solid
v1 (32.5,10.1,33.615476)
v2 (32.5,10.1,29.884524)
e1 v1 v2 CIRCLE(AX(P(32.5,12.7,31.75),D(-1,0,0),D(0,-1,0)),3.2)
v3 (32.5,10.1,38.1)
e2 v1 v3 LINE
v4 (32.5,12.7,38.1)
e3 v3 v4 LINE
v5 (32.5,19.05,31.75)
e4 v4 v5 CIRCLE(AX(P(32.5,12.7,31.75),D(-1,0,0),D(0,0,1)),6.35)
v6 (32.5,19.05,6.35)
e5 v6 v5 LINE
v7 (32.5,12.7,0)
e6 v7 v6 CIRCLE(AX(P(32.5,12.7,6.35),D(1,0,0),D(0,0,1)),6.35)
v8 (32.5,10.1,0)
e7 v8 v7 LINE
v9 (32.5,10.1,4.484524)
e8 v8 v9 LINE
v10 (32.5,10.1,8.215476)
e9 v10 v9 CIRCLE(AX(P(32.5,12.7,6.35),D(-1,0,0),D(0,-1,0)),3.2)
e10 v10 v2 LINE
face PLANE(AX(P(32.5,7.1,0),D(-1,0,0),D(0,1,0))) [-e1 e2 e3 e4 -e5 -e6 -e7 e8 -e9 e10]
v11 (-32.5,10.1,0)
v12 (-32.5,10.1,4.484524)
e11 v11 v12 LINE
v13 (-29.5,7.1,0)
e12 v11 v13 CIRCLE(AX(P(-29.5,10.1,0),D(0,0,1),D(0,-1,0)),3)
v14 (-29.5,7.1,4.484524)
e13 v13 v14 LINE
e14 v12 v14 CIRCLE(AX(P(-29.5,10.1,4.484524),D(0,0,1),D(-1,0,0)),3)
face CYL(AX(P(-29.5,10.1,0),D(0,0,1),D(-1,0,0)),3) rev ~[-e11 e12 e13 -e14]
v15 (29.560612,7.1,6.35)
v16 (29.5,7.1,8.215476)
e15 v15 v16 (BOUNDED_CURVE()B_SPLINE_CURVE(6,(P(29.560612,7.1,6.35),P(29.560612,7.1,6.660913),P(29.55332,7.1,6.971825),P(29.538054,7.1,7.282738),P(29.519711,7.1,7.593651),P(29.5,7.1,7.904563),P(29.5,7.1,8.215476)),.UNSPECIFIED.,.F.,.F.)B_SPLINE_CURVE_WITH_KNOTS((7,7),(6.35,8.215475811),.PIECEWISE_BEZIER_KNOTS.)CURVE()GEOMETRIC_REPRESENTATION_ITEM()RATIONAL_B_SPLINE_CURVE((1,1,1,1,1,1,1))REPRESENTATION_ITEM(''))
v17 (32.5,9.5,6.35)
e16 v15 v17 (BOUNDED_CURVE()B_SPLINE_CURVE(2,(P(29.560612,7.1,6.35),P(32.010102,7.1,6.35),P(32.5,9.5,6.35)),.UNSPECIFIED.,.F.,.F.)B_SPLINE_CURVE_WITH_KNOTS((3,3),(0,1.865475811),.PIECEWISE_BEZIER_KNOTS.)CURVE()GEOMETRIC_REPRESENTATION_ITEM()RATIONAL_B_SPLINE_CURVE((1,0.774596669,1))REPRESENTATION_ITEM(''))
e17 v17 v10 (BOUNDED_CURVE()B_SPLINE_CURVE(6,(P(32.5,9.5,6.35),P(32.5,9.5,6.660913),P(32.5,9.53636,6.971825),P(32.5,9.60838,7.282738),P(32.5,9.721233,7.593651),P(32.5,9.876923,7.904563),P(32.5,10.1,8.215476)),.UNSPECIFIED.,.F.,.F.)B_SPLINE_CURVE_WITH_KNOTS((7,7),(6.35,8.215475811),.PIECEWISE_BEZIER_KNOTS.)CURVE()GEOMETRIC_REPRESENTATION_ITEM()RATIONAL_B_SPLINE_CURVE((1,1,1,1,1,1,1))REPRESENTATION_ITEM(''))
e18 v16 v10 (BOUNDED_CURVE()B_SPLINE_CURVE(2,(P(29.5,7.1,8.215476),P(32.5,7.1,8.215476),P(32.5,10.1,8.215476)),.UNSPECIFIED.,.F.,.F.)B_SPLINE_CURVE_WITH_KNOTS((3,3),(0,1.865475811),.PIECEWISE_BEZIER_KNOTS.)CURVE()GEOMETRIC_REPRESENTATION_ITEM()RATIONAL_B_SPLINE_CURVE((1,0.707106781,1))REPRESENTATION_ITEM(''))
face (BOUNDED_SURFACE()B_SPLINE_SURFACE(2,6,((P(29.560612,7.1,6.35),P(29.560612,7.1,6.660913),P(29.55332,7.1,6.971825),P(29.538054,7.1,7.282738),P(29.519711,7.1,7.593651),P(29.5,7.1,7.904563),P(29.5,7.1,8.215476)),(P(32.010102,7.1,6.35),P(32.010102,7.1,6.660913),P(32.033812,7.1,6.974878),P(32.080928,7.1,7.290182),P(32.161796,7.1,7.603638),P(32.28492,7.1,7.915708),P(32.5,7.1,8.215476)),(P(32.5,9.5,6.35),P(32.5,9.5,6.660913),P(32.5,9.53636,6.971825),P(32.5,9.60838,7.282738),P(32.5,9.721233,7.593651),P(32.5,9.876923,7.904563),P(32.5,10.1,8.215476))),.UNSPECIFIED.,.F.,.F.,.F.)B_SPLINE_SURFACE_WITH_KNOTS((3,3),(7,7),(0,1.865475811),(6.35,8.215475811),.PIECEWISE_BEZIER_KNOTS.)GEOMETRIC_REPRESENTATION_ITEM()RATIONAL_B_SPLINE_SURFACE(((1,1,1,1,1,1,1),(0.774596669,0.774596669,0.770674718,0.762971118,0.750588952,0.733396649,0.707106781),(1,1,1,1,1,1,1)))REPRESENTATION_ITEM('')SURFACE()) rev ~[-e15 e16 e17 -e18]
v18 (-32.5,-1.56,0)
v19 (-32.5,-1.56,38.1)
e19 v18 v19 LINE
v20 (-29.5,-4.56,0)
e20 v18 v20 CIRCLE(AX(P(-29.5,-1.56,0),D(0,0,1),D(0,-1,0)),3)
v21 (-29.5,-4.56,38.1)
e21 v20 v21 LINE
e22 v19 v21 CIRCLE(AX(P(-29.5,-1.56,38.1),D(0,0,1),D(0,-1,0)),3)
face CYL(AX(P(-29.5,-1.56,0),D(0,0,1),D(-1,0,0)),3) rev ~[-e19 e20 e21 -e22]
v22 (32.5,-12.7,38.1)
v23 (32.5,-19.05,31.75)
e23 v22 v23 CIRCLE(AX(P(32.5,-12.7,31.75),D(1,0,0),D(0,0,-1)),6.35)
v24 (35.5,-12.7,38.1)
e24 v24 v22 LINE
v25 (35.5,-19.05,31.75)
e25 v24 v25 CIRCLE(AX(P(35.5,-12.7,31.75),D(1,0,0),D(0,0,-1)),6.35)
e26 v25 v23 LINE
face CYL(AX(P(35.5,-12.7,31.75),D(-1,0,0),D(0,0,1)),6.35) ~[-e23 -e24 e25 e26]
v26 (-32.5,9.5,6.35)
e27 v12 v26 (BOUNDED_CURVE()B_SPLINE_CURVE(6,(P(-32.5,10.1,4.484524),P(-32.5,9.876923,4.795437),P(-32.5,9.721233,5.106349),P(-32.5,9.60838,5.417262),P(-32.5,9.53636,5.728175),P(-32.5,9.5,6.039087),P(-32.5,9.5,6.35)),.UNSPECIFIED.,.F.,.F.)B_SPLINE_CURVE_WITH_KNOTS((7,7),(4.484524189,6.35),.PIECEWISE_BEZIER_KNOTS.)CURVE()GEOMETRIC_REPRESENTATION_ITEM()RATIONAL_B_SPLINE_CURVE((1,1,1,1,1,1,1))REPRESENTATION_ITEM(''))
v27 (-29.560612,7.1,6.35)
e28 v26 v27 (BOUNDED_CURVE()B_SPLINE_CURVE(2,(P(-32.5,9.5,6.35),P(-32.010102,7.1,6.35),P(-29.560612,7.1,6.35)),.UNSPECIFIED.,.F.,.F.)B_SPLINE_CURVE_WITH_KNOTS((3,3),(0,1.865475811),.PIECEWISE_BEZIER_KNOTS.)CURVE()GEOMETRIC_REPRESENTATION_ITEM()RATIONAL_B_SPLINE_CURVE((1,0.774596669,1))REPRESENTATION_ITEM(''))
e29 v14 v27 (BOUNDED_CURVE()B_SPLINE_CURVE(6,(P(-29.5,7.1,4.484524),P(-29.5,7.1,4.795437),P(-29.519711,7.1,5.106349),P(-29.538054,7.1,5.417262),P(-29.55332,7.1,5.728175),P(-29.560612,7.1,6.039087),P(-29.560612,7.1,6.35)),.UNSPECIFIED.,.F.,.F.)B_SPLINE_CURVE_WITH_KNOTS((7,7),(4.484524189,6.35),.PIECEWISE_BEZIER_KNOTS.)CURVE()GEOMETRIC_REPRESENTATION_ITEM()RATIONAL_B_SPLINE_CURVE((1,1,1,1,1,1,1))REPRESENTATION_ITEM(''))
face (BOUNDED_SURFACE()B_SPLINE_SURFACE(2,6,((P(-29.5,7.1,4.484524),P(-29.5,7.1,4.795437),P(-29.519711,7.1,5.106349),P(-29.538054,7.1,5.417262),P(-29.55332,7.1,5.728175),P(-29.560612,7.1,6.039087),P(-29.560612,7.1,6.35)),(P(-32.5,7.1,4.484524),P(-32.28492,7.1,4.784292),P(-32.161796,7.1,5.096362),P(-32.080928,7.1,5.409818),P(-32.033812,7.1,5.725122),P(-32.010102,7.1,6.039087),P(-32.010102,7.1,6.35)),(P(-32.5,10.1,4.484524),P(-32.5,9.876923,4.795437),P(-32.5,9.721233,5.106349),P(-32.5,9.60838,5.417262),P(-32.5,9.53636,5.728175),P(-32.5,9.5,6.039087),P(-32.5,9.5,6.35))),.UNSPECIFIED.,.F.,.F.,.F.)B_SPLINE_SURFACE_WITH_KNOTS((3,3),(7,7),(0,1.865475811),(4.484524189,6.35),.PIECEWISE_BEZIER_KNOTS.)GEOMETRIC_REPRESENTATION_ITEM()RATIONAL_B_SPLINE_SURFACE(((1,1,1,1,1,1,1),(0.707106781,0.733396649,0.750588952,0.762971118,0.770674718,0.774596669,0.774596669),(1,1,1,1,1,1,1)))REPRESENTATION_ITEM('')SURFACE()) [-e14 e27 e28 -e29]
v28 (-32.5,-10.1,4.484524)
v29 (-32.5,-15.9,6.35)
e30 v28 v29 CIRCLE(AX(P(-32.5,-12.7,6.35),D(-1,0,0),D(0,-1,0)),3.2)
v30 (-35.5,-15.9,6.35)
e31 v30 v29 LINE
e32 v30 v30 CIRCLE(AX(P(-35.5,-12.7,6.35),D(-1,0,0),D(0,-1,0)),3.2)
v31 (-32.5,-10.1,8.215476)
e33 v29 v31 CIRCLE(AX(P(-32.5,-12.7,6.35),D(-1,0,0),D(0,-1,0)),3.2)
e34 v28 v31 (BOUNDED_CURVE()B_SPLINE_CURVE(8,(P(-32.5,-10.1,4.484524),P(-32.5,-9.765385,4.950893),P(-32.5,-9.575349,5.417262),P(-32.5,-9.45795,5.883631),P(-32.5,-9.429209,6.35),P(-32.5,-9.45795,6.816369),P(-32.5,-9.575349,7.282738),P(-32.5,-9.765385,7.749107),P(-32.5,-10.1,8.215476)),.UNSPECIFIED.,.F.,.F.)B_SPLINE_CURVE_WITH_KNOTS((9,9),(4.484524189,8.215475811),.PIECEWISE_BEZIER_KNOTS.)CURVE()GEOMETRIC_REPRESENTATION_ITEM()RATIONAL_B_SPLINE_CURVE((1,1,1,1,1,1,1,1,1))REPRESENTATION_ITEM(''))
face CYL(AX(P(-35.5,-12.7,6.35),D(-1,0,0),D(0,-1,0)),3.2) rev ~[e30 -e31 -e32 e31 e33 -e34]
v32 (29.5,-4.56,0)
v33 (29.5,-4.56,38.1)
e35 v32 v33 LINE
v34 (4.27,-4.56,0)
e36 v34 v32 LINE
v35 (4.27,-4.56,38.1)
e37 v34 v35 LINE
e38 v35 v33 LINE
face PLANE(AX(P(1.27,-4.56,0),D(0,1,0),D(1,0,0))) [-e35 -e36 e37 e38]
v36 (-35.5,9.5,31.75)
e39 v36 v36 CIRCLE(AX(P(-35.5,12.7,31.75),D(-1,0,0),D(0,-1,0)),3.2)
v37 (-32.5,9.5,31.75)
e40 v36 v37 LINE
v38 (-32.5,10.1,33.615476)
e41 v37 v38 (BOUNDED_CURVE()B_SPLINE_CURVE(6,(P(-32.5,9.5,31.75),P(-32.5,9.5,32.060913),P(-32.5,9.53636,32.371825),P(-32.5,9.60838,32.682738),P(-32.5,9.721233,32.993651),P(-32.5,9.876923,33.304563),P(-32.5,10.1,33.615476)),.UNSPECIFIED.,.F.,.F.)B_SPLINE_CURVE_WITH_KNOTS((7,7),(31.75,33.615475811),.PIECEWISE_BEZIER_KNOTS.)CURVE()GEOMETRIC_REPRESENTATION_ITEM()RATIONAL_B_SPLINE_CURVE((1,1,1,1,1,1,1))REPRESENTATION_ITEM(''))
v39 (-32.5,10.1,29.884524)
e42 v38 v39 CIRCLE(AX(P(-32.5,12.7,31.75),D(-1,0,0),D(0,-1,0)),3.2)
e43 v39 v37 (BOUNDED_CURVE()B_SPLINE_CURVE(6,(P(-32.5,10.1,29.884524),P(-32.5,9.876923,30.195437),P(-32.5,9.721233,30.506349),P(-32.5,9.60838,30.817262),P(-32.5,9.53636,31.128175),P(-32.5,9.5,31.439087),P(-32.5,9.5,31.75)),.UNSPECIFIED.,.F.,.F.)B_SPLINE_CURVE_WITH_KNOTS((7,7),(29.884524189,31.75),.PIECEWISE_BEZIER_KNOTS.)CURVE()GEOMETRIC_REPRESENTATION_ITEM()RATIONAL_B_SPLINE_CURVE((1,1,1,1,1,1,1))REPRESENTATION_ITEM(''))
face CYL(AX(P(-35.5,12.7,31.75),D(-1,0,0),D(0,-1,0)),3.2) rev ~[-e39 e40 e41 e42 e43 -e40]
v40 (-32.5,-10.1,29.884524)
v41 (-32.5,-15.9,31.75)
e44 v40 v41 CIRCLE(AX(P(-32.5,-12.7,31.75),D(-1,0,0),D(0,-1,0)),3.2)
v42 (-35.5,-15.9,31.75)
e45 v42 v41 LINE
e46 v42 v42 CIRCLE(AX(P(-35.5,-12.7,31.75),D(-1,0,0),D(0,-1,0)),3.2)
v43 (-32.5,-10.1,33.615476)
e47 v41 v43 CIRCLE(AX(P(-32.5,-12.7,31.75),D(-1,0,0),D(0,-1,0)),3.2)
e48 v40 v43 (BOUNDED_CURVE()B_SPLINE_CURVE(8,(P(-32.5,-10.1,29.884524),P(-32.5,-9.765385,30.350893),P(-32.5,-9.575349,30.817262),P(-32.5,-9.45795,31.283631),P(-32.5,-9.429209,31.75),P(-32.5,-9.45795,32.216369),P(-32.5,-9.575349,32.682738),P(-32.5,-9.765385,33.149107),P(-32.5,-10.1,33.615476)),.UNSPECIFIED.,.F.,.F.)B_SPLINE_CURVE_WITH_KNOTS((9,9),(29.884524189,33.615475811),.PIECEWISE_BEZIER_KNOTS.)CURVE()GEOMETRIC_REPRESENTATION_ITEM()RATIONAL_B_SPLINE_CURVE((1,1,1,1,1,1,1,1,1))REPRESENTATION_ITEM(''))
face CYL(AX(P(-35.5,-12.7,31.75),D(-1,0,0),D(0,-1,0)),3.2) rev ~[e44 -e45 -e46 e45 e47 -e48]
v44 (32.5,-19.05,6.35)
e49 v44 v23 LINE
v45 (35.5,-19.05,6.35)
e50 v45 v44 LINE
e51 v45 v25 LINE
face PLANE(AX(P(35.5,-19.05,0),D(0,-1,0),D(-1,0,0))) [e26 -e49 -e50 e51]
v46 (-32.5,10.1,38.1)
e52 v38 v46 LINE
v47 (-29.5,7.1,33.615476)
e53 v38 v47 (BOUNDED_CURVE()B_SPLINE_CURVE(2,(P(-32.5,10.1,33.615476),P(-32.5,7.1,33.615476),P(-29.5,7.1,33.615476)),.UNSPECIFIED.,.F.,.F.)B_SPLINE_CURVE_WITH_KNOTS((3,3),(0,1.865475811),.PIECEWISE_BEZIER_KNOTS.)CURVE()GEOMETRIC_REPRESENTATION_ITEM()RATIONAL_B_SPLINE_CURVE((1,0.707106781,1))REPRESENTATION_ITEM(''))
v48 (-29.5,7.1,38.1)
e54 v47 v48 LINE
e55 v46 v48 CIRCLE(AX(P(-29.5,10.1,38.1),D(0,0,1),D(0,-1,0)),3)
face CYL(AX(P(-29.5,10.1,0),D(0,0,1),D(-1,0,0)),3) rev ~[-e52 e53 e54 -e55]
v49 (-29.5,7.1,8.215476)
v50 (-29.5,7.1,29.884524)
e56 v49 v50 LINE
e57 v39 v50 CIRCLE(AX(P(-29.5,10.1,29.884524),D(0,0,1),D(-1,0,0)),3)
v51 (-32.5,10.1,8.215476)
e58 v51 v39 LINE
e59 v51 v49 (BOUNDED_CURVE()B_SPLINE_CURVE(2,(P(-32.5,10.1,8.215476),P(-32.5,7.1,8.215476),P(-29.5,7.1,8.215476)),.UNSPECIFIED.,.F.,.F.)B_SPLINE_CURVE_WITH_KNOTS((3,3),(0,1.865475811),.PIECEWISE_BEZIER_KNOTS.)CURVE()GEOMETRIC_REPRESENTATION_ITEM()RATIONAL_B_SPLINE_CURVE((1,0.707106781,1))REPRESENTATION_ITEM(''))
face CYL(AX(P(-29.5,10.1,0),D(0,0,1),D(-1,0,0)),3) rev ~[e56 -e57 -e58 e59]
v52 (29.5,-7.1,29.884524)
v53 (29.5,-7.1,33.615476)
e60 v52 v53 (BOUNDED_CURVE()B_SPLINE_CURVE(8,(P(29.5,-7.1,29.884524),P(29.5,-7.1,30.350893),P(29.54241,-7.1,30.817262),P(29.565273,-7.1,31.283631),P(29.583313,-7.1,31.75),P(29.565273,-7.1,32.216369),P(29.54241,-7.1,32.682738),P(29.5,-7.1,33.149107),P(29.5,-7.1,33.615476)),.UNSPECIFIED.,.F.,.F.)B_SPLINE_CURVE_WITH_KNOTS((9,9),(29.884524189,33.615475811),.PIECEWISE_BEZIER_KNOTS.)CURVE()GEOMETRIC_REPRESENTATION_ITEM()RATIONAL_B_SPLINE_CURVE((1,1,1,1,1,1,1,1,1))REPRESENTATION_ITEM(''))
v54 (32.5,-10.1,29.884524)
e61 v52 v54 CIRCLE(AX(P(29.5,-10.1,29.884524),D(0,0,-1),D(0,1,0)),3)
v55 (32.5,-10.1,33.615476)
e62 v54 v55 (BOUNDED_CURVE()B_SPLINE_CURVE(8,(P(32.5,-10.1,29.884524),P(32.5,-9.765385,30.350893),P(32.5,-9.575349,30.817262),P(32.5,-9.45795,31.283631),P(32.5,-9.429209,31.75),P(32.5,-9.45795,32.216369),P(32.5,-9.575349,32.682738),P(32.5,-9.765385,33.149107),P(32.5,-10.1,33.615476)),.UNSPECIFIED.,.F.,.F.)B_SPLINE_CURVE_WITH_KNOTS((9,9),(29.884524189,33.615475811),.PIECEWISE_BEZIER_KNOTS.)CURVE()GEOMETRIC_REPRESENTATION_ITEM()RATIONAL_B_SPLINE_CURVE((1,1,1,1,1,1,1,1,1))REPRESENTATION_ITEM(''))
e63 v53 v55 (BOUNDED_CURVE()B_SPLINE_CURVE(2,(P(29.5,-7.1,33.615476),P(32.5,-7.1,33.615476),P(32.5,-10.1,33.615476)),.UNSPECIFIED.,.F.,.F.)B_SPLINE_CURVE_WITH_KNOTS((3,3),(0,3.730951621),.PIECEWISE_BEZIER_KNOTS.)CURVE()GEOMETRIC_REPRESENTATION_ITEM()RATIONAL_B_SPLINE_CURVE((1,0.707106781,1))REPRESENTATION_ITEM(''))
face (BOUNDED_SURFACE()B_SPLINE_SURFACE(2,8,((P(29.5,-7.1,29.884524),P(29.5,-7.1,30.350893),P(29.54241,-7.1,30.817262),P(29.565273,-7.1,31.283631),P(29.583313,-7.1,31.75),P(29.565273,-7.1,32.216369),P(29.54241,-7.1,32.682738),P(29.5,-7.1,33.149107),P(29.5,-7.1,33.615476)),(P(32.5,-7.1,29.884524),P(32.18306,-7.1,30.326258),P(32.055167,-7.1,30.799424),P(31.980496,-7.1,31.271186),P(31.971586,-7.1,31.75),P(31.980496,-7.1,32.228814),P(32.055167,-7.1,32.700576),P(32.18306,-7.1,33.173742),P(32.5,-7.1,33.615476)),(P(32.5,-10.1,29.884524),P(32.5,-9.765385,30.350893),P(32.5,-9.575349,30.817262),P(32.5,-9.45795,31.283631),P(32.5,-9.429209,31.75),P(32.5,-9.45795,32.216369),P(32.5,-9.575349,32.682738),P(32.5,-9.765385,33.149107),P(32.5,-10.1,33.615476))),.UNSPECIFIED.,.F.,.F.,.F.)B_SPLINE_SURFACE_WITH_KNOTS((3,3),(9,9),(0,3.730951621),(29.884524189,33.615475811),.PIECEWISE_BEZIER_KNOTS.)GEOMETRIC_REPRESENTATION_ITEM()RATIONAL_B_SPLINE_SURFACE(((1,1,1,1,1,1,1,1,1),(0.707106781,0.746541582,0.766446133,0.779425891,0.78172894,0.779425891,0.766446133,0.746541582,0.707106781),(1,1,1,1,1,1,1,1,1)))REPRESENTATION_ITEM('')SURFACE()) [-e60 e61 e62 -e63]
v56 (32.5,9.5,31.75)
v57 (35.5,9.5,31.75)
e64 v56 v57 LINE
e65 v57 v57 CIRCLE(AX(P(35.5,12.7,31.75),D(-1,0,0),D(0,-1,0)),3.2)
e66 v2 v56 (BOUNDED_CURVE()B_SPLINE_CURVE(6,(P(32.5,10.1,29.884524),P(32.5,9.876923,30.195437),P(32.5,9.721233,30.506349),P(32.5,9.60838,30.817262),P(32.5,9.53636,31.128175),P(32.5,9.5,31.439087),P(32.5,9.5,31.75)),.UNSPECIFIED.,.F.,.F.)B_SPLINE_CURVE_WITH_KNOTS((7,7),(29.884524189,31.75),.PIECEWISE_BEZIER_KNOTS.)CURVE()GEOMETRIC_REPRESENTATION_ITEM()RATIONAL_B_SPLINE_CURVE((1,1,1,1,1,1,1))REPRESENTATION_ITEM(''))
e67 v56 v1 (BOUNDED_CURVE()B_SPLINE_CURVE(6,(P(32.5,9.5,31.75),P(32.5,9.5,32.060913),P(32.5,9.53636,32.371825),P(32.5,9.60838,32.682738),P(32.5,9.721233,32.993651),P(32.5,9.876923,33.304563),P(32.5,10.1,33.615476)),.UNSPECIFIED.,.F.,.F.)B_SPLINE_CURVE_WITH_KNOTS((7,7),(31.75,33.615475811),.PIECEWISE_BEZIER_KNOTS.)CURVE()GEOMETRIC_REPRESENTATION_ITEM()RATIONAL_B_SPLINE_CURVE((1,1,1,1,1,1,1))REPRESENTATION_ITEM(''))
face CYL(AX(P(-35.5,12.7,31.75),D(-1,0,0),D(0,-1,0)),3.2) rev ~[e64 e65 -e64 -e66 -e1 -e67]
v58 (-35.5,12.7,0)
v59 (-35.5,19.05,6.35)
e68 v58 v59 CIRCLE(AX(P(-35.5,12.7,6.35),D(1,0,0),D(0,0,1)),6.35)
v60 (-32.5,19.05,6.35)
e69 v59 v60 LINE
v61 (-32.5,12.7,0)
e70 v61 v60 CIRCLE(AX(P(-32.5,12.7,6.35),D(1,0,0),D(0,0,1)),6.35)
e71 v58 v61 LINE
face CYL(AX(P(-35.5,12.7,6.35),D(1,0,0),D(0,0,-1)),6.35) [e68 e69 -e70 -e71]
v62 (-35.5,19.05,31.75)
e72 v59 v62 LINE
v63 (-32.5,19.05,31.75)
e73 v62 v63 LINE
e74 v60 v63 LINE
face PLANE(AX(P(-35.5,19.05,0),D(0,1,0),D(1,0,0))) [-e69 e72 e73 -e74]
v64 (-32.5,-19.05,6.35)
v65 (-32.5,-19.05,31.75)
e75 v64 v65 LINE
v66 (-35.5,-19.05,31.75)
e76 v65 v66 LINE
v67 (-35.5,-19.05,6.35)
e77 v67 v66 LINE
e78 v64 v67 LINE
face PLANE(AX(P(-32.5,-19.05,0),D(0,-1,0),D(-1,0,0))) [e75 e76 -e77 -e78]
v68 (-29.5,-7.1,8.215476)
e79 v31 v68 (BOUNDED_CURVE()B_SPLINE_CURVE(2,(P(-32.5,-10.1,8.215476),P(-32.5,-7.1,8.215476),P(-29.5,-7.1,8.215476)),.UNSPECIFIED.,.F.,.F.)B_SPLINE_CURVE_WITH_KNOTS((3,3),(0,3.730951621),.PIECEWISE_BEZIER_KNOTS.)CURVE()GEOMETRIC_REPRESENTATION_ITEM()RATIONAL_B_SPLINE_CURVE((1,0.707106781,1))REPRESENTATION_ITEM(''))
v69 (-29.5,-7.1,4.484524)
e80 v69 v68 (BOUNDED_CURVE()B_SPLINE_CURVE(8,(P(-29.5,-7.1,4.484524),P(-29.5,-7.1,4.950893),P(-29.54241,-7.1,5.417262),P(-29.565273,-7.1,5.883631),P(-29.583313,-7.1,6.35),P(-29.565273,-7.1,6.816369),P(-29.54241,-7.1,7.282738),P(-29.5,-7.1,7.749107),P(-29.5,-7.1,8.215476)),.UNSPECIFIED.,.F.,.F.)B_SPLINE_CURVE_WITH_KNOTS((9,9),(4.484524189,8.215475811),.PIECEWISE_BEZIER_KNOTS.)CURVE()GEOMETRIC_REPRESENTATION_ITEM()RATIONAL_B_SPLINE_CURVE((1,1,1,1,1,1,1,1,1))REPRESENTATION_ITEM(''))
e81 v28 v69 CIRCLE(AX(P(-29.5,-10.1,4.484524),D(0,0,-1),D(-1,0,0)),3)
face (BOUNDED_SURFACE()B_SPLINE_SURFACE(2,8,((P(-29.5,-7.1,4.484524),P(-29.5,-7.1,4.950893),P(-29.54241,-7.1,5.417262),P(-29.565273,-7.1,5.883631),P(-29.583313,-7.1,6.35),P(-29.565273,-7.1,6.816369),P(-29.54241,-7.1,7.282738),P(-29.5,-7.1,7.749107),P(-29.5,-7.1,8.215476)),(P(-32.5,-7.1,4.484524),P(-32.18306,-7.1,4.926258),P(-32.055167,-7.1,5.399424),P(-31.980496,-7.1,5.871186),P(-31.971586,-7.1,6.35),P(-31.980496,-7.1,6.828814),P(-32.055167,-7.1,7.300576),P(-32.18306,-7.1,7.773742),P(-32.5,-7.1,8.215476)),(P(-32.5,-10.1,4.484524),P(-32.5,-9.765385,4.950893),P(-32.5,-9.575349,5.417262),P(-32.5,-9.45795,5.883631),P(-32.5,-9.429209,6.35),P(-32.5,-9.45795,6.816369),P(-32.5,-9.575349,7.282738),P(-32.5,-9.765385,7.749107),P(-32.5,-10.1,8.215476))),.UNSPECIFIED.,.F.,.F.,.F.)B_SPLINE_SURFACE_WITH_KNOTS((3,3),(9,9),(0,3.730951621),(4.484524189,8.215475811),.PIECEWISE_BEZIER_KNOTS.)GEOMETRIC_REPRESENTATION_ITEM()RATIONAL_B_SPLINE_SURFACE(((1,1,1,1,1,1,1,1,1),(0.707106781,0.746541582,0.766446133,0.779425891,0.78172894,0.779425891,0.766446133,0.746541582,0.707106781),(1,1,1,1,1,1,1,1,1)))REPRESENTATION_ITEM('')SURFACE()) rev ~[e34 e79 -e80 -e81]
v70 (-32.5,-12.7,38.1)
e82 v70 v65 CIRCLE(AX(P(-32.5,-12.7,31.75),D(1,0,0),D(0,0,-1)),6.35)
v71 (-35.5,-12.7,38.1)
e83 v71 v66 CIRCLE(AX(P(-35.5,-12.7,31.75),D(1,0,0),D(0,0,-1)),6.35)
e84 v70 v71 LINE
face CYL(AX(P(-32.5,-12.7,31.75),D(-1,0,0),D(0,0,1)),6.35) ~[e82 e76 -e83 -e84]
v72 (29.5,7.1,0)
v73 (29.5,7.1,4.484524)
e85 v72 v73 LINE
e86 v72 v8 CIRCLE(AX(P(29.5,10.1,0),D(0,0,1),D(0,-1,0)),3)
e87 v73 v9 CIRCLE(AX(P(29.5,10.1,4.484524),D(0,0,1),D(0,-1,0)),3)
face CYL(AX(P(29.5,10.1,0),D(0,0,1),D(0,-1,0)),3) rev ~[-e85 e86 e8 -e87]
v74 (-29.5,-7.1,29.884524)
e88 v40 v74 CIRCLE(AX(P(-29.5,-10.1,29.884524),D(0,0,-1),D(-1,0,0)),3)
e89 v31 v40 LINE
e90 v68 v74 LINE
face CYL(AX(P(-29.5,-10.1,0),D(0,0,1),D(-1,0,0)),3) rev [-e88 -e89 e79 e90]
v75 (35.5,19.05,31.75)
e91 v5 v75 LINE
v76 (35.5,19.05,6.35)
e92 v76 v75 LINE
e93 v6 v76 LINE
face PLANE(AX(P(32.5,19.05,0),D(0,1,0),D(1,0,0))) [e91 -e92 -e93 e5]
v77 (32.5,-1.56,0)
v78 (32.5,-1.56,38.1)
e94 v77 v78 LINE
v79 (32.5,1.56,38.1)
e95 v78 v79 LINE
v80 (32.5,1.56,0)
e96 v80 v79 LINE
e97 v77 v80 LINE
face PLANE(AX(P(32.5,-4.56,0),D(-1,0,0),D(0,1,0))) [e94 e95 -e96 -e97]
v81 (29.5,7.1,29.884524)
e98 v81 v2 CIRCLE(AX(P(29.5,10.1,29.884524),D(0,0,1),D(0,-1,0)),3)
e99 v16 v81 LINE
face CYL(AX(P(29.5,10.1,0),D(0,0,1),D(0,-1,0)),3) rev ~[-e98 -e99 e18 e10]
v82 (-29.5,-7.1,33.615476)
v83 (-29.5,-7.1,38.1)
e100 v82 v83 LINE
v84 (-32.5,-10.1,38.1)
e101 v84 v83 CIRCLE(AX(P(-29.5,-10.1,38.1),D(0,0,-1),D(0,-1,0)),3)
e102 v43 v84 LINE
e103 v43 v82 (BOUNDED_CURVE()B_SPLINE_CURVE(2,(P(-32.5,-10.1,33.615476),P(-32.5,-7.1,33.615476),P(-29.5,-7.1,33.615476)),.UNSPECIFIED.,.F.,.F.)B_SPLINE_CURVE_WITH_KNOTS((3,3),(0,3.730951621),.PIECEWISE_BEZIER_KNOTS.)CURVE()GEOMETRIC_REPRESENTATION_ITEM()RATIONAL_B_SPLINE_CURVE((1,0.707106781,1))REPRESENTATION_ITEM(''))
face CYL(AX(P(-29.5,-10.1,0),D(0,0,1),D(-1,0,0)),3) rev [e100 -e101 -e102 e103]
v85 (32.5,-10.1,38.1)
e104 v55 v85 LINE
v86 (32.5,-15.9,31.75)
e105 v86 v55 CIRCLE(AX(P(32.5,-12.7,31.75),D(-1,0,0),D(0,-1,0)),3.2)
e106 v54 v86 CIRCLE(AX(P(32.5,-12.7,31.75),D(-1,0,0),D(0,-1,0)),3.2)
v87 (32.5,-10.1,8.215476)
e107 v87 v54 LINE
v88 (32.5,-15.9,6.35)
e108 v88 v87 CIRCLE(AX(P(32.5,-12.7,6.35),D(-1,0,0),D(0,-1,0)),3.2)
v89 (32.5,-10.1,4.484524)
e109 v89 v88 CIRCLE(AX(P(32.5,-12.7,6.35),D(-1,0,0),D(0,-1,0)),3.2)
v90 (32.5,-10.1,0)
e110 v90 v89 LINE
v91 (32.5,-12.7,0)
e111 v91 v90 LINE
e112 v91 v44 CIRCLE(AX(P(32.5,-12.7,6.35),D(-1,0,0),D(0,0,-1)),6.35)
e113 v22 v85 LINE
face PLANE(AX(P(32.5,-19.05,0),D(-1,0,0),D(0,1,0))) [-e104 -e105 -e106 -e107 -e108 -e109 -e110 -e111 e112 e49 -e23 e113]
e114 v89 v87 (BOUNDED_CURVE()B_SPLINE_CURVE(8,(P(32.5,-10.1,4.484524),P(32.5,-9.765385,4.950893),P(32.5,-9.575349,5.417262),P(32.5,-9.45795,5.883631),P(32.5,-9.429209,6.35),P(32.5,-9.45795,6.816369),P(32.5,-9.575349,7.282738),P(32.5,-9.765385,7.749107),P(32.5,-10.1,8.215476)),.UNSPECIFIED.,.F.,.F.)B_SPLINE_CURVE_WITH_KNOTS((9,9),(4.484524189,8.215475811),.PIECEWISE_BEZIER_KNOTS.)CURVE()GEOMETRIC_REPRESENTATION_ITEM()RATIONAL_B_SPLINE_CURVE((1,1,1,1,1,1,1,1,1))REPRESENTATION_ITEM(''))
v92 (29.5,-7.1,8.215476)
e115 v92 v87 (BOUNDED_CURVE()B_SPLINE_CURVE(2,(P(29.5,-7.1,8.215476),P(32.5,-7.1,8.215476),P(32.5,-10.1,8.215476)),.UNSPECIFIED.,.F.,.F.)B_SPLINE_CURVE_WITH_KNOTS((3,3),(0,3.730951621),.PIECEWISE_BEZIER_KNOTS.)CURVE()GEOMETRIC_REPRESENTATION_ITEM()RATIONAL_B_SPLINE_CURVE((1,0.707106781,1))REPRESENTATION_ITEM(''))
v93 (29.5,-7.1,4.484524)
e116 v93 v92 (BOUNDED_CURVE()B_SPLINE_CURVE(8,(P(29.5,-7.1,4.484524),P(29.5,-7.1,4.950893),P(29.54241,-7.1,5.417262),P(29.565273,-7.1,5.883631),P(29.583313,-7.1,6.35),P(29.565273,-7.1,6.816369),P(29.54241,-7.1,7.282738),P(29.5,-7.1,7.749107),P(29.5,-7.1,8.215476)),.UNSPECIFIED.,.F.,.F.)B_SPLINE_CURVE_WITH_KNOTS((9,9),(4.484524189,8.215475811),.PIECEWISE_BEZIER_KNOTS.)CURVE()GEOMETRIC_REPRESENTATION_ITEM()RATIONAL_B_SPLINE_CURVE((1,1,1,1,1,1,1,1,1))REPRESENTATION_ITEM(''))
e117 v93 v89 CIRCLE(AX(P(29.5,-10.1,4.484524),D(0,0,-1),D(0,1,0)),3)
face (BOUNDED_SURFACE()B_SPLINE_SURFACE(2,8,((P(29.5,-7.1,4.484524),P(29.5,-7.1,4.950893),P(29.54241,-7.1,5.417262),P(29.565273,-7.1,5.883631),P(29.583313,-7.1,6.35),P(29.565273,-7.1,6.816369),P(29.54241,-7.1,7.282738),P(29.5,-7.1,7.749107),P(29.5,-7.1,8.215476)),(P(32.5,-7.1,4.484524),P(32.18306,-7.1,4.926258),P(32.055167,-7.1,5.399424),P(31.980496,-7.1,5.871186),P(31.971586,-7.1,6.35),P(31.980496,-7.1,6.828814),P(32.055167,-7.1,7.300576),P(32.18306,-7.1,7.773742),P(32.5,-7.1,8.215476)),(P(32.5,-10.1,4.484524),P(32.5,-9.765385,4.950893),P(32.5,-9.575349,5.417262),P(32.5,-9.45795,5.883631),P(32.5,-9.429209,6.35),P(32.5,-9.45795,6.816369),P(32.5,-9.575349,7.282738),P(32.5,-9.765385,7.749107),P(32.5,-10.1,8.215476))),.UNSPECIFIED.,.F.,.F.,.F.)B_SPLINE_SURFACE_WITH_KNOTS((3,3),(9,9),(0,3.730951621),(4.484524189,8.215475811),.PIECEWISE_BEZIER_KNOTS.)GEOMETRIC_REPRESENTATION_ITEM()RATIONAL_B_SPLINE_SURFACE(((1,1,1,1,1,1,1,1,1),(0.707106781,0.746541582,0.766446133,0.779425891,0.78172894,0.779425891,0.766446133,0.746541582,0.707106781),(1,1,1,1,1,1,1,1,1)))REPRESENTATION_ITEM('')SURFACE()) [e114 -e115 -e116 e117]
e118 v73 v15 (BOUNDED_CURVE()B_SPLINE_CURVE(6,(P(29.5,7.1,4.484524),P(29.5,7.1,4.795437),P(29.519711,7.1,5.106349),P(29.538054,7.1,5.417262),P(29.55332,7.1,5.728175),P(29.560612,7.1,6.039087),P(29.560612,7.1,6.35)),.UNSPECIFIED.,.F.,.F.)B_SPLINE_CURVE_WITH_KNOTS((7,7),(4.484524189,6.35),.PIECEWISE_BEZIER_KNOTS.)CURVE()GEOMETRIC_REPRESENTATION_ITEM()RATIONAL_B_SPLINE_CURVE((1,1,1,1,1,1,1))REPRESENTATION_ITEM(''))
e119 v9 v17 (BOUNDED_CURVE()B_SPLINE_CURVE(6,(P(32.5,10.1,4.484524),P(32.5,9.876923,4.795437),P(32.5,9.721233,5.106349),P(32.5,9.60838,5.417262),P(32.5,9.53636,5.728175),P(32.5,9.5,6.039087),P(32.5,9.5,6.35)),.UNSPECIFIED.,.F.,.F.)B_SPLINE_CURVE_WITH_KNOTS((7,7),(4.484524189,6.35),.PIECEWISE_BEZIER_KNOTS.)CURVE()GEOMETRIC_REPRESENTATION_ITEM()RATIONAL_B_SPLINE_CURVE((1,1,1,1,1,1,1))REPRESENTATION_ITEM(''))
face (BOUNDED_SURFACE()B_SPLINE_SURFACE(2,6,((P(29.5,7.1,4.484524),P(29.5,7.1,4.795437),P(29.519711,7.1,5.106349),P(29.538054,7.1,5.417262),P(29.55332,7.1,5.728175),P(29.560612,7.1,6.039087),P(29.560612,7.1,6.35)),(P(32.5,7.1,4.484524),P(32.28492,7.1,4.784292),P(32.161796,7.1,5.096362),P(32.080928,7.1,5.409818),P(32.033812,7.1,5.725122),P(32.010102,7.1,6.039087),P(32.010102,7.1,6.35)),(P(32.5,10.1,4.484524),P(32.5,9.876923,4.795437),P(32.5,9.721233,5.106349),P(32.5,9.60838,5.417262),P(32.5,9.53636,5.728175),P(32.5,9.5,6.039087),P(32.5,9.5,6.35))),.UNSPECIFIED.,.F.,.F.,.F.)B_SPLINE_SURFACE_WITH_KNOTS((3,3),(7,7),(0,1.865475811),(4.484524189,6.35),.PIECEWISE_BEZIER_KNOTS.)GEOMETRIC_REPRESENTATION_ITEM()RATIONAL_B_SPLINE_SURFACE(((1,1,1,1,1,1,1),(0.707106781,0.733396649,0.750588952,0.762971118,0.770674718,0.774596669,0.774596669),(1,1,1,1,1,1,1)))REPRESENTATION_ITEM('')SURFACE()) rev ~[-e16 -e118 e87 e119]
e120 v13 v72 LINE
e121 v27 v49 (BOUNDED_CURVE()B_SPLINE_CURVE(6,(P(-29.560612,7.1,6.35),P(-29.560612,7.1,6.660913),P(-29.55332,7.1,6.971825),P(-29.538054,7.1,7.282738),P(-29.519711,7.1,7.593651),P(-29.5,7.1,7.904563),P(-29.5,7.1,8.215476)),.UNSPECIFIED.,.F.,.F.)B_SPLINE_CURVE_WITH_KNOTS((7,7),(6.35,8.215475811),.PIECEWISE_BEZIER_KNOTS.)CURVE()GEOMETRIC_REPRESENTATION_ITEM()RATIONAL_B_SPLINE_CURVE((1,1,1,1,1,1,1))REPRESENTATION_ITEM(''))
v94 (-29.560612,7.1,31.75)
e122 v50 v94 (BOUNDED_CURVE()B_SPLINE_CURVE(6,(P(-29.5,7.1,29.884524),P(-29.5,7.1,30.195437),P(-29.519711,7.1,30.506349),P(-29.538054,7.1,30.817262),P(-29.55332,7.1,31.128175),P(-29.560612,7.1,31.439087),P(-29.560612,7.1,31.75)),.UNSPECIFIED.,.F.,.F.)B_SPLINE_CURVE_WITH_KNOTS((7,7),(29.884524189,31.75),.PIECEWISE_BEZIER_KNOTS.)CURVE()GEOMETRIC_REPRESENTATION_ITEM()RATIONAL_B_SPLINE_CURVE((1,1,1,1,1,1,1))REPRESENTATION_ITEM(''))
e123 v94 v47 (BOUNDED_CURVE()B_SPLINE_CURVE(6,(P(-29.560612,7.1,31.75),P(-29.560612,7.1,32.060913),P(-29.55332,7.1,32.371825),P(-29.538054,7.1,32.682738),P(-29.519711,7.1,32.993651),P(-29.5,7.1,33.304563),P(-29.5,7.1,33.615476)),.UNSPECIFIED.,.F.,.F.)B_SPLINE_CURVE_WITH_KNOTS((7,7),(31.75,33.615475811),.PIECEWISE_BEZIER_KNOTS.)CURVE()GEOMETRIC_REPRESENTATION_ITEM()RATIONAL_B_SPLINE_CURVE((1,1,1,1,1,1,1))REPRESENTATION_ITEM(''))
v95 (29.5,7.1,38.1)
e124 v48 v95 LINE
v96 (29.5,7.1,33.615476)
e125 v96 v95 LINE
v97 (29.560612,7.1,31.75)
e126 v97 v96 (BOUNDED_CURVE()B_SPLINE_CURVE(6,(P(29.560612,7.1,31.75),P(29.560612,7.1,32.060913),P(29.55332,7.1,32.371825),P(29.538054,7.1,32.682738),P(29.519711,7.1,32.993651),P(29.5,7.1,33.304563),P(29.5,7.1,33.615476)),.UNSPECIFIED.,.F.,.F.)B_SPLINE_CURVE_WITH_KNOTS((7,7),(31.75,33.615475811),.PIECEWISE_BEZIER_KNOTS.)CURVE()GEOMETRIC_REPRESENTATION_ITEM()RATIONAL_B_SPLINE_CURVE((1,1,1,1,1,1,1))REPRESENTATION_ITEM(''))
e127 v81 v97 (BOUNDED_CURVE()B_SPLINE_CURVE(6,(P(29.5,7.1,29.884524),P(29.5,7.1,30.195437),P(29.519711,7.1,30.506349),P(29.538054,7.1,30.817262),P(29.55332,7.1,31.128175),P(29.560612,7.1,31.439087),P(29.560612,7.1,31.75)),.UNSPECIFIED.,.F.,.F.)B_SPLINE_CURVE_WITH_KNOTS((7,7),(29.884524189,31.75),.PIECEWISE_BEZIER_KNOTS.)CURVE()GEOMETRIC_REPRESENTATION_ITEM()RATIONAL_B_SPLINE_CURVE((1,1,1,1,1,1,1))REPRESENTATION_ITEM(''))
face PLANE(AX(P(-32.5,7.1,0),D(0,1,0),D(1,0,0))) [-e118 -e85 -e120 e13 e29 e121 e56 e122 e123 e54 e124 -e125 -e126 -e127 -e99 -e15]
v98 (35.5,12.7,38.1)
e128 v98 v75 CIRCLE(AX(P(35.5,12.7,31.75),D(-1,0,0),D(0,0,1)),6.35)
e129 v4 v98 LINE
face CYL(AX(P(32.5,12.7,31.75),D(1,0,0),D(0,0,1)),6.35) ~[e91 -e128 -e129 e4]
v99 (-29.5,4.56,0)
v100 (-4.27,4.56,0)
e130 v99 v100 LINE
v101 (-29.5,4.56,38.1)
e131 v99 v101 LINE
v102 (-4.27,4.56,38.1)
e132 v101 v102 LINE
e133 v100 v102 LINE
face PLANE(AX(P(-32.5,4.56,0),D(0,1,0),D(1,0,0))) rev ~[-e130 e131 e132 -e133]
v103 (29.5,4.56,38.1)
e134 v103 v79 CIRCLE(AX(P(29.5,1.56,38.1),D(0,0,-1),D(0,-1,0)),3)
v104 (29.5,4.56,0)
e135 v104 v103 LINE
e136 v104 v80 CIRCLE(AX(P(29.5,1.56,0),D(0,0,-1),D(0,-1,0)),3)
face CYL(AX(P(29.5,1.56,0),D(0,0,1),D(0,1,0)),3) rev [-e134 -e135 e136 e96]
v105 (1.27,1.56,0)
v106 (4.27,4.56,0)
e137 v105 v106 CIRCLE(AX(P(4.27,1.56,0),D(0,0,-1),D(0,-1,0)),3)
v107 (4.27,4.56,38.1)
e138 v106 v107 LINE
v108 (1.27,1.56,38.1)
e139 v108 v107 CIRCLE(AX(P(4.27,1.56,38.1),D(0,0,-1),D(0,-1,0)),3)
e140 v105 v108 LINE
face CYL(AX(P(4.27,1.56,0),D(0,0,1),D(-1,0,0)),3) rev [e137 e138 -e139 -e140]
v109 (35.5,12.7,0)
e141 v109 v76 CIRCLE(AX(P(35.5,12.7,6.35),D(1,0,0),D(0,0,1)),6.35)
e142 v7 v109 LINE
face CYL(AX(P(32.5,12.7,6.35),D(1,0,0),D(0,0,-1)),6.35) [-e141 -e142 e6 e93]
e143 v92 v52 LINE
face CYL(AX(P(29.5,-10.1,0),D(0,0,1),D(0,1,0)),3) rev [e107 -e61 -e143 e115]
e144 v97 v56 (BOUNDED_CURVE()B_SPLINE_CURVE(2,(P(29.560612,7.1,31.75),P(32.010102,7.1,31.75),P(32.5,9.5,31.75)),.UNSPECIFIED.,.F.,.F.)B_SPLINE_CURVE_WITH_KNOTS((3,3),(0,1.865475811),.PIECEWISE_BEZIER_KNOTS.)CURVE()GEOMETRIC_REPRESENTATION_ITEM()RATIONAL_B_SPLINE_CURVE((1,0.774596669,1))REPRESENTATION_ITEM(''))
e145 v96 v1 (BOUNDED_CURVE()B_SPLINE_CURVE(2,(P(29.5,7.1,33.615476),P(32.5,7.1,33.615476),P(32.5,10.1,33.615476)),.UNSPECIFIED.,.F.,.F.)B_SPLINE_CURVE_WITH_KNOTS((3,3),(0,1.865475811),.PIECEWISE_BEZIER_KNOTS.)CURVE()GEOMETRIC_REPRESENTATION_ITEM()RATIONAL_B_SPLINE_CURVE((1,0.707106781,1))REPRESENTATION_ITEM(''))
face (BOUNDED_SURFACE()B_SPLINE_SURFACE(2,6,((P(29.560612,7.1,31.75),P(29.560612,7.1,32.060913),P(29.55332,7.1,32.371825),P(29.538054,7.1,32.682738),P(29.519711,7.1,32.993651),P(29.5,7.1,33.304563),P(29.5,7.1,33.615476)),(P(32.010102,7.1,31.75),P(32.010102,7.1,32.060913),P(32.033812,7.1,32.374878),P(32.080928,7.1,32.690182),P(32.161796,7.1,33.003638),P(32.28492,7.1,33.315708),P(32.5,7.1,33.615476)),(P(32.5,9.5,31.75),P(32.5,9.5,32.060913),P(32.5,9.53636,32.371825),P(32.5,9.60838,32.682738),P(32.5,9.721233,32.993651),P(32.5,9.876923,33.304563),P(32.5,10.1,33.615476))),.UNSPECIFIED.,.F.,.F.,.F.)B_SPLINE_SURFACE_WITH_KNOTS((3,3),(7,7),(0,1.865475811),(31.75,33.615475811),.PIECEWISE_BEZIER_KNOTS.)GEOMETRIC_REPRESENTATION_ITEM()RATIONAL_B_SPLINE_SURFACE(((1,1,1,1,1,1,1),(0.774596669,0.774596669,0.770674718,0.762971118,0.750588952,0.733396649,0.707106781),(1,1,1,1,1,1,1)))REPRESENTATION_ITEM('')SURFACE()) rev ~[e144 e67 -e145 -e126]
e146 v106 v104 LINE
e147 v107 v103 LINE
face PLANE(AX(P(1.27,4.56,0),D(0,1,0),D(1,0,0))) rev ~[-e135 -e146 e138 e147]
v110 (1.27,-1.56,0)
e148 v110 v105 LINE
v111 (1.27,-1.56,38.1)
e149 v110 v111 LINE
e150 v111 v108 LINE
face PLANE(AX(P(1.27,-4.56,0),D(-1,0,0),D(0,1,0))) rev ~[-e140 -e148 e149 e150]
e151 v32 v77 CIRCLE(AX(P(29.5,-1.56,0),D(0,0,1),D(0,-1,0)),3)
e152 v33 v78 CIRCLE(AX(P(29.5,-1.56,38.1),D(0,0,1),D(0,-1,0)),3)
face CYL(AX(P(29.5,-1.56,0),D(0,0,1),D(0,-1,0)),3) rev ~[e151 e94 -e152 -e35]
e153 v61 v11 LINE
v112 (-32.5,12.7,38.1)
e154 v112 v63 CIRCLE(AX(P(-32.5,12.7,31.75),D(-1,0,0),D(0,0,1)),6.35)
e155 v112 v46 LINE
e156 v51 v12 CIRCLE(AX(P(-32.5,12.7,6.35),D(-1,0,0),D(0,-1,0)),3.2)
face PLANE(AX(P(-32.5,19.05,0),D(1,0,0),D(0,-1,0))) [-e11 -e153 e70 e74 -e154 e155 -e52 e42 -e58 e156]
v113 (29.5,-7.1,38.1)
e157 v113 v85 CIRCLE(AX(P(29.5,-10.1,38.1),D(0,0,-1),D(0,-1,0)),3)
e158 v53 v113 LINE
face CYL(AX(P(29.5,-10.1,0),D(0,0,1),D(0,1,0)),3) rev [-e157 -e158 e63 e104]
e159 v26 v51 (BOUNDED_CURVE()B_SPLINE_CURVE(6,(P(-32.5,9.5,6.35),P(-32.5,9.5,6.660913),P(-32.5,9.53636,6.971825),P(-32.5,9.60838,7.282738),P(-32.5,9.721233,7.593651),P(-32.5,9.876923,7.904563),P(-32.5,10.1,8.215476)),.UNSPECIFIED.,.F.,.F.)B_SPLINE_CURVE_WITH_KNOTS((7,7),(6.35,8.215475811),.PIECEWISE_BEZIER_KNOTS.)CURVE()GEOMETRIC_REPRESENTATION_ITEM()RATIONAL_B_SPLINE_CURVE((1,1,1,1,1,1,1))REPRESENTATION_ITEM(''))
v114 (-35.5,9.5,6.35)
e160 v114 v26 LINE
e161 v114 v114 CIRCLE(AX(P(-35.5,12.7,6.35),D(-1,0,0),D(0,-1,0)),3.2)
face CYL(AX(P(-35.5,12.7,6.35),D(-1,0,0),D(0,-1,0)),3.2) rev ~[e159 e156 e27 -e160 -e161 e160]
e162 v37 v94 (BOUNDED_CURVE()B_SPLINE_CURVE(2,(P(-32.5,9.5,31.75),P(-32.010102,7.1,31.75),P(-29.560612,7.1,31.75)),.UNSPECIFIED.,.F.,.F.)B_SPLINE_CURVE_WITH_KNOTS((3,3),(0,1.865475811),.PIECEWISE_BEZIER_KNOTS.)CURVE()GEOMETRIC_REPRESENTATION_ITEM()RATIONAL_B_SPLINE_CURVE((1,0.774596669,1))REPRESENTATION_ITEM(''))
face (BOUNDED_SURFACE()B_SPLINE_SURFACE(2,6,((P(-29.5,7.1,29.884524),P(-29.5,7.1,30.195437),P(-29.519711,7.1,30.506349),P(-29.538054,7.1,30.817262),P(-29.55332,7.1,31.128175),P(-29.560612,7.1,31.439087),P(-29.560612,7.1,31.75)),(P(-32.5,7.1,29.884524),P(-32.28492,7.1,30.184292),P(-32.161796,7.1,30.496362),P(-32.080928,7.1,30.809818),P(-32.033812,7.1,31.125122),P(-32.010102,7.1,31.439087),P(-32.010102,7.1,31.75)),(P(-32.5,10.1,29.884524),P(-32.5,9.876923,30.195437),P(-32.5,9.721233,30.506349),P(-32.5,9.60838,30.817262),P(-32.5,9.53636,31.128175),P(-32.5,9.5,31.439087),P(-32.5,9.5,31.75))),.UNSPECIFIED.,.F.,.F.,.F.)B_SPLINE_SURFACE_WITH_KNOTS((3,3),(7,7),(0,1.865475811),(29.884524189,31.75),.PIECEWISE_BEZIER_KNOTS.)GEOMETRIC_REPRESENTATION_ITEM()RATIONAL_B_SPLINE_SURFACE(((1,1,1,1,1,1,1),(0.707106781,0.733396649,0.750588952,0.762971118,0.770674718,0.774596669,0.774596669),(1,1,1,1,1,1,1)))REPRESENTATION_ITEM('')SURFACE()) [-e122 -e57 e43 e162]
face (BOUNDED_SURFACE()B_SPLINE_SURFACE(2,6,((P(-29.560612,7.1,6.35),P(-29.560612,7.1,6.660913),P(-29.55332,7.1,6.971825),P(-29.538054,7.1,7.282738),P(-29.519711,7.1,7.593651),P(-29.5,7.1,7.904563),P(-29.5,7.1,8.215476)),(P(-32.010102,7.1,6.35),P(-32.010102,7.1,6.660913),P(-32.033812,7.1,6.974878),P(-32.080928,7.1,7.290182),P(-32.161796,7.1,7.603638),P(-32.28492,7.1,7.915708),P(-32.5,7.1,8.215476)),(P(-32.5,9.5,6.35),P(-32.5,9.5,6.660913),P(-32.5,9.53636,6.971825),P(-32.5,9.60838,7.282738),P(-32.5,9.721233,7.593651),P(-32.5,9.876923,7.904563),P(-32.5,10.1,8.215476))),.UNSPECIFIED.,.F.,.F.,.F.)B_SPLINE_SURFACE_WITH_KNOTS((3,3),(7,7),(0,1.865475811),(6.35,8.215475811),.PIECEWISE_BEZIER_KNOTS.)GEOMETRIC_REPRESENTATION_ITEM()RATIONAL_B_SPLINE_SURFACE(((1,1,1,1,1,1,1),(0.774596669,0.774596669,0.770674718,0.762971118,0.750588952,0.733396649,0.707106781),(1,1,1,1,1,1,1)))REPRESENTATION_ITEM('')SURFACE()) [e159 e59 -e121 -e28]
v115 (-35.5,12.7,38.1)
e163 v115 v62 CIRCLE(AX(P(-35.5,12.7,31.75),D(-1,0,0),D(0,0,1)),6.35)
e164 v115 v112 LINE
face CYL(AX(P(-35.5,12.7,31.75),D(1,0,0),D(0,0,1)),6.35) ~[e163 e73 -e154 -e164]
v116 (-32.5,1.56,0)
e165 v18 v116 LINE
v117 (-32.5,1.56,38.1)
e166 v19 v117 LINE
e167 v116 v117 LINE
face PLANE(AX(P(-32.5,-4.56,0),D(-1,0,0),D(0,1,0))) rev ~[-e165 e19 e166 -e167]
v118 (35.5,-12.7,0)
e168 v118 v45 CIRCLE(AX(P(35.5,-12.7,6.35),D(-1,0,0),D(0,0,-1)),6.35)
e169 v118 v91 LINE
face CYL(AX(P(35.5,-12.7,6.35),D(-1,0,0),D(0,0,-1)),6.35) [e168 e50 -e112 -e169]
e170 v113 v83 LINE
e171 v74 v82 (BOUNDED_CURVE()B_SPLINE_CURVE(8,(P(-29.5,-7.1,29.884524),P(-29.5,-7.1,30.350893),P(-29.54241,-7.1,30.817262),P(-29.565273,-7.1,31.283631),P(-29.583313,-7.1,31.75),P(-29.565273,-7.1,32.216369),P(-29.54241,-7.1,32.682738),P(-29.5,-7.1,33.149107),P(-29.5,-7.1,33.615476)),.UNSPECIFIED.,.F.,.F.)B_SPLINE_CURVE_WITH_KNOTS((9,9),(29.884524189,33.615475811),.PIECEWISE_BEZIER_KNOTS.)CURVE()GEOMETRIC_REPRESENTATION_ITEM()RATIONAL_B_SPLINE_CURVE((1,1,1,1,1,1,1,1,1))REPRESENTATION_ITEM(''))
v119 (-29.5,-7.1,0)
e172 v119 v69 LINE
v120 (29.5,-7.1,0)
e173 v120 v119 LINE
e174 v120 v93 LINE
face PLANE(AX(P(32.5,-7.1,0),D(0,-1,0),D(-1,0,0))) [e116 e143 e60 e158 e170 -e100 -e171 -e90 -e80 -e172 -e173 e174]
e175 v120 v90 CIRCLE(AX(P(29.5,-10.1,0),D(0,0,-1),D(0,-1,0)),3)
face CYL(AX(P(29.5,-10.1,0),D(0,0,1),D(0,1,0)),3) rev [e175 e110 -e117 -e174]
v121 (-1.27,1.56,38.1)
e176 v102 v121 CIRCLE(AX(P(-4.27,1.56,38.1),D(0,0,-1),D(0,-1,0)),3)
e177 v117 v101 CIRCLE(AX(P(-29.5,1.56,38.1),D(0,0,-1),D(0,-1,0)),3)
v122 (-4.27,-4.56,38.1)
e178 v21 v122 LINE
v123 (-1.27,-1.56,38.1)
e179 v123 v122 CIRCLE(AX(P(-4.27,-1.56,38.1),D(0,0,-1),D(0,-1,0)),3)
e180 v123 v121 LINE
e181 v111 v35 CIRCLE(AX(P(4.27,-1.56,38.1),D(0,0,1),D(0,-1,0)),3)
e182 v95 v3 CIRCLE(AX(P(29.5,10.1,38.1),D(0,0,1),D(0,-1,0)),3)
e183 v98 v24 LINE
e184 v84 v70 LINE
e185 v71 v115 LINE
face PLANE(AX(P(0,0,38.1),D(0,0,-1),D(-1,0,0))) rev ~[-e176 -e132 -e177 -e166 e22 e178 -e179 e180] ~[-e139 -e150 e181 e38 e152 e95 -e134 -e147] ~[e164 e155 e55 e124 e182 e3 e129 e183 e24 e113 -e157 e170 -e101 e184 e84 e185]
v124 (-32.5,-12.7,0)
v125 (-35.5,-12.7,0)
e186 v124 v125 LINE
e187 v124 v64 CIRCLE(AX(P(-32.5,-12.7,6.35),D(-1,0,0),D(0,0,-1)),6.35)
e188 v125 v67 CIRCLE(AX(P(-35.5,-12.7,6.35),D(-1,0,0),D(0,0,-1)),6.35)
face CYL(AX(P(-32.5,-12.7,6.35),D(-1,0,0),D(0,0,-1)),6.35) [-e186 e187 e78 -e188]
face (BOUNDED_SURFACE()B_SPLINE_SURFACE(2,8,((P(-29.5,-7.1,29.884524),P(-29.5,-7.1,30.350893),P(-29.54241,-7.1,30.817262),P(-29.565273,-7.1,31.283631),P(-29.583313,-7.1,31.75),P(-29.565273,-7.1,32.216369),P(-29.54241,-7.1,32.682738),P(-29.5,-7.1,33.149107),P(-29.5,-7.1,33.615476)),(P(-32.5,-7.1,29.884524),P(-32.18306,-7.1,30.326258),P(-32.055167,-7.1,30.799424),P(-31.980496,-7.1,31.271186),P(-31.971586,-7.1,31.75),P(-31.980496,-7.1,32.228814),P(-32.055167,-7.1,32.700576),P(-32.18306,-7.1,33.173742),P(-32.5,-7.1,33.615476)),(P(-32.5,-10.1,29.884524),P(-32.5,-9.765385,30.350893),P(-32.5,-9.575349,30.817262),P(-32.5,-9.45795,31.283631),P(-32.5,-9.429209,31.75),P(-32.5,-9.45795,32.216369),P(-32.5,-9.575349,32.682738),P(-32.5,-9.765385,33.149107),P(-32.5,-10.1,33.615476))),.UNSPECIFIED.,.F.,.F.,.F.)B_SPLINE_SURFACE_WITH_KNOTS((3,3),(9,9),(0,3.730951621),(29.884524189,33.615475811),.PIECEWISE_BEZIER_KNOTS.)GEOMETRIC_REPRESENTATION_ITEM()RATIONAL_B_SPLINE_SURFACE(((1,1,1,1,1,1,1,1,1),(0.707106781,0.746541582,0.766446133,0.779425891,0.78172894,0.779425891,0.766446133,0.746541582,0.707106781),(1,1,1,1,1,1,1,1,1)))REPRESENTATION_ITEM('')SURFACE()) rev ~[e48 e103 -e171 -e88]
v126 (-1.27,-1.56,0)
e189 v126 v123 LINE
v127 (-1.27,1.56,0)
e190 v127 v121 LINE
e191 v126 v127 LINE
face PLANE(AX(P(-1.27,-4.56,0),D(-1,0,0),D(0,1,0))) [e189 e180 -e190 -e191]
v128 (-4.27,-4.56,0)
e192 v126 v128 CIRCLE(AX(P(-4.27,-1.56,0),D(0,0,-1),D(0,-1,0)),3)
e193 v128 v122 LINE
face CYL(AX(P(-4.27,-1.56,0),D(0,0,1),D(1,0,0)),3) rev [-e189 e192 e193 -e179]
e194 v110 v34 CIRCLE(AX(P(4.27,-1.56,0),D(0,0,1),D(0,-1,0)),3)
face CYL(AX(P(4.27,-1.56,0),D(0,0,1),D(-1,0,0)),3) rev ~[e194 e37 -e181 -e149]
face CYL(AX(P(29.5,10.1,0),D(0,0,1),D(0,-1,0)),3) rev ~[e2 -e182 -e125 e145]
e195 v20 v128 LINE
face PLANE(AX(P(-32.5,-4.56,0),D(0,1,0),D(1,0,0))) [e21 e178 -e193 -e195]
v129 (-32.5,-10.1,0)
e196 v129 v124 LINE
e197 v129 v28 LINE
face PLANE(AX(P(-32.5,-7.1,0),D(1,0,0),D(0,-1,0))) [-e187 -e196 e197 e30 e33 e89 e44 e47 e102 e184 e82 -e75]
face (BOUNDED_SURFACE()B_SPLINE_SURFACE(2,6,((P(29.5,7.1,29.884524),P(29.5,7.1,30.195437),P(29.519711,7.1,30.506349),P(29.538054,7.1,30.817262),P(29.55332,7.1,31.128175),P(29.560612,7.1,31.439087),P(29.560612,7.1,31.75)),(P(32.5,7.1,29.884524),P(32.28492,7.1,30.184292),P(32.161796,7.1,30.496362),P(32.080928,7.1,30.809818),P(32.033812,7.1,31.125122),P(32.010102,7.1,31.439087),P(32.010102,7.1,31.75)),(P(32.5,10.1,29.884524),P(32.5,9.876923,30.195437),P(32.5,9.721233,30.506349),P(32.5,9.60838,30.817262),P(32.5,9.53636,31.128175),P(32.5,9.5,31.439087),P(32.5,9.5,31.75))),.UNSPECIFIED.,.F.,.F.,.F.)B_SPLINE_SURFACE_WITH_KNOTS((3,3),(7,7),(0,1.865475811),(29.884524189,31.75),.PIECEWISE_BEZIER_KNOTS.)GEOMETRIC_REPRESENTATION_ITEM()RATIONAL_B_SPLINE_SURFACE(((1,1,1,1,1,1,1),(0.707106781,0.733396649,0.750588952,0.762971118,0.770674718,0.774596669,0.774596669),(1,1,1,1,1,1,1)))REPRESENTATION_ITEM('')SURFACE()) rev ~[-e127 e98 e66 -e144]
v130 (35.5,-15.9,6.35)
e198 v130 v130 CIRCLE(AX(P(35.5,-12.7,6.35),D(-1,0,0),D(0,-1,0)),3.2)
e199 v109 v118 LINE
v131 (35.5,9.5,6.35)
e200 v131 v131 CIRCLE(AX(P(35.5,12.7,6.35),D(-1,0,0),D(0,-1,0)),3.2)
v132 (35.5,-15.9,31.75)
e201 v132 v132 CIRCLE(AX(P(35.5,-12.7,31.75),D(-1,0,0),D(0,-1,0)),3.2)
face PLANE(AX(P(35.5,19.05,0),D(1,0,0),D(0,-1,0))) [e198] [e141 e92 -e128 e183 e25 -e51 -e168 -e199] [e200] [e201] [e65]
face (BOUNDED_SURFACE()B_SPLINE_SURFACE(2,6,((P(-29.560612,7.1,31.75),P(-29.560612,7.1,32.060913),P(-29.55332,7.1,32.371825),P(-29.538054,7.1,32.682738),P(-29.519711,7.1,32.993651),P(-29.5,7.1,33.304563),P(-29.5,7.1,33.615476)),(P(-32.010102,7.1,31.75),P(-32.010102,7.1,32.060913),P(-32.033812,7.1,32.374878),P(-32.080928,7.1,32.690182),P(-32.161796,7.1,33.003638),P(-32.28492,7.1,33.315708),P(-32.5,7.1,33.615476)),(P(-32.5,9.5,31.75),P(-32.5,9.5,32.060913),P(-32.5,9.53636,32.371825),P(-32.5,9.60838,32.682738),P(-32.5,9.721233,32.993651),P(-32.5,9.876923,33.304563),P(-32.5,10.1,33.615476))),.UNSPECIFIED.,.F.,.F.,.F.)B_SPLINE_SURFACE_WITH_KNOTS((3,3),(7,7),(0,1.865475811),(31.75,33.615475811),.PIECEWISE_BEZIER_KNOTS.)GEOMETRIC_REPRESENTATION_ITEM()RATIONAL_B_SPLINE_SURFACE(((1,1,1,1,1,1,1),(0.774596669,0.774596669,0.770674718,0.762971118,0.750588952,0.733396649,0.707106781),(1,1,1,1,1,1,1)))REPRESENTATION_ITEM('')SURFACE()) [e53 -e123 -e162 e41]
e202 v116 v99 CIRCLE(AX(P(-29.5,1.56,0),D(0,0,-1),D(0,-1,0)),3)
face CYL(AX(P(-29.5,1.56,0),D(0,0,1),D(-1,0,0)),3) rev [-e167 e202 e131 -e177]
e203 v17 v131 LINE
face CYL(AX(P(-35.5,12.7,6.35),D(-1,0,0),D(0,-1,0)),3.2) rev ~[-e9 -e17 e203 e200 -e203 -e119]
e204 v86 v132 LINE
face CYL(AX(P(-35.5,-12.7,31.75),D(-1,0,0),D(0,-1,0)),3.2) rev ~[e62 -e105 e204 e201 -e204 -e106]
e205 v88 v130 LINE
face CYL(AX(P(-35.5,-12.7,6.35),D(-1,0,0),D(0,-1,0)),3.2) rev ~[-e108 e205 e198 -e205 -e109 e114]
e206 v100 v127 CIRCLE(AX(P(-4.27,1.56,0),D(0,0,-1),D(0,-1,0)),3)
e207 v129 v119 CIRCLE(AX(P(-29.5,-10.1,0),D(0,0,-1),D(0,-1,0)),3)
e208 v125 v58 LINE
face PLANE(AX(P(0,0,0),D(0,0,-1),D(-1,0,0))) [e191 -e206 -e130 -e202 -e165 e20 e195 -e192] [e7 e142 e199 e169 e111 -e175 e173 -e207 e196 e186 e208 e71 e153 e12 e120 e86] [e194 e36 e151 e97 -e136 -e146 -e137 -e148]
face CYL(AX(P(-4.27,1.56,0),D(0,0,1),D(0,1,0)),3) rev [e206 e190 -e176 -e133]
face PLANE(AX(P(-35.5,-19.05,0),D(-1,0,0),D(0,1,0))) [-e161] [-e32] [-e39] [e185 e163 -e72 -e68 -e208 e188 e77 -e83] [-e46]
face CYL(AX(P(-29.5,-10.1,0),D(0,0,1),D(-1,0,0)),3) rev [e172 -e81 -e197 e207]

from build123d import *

# Parameters (mm, degrees)
SKETCH_W     = 31.23
SKETCH_H     = 9.12
PAD_DEPTH    = 38.1
SKETCH001_R  = 3.2
POCKET_DEPTH = 71
FILLET_R     = 6.35
FILLET001_R  = 3


with BuildPart() as part:
    # Sketch → Pad (new body)
    with BuildSketch(Plane.XY):
        Polygon((-32.5, 7.1), (32.5, 7.1), (32.5, 19.05), (35.5, 19.05), (35.5, -19.05), (32.5, -19.05), (32.5, -7.1), (-32.5, -7.1), (-32.5, -19.05), (-35.5, -19.05), (-35.5, 19.05), (-32.5, 19.05), align=None)
        with Locations((16.885, 0)):
            Rectangle(SKETCH_W, SKETCH_H, mode=Mode.SUBTRACT)
        with Locations((-16.885, 0)):
            Rectangle(SKETCH_W, SKETCH_H, mode=Mode.SUBTRACT)
    extrude(amount=PAD_DEPTH)

    # Sketch001 (on Face10 of Pad) → Pocket (cut)
    with BuildSketch(Plane(origin=(-35.5, 0, 0), x_dir=(0, -1, 0), z_dir=(-1, 0, 0))):
        with Locations((12.7, 31.75)):
            Circle(SKETCH001_R)
        with Locations((12.7, 6.35)):
            Circle(SKETCH001_R)
        with Locations((-12.7, 6.35)):
            Circle(SKETCH001_R)
        with Locations((-12.7, 31.75)):
            Circle(SKETCH001_R)
    extrude(amount=-POCKET_DEPTH, mode=Mode.SUBTRACT)

    # Fillet
    fillet_edges = [part.edges().sort_by_distance(p)[0] for p in [
        (-34, 19.05, 0),
        (-34, -19.05, 0),
        (34, -19.05, 38.1),
        (34, 19.05, 0),
        (34, -19.05, 0),
        (34, 19.05, 38.1),
        (-34, 19.05, 38.1),
        (-34, -19.05, 38.1),
    ]]
    fillet(fillet_edges, radius=FILLET_R)

    # Fillet001
    fillet001_edges = [part.edges().sort_by_distance(p)[0] for p in [
        (-1.27, -4.56, 19.05),
        (-1.27, 4.56, 19.05),
        (32.5, 4.56, 19.05),
        (32.5, -4.56, 19.05),
        (1.27, -4.56, 19.05),
        (1.27, 4.56, 19.05),
        (-32.5, -4.56, 19.05),
        (-32.5, 4.56, 19.05),
        (-32.5, -7.1, 19.05),
        (-32.5, 7.1, 19.05),
        (32.5, 7.1, 19.05),
        (32.5, -7.1, 19.05),
    ]]
    fillet(fillet001_edges, radius=FILLET001_R)


solid = part.part
